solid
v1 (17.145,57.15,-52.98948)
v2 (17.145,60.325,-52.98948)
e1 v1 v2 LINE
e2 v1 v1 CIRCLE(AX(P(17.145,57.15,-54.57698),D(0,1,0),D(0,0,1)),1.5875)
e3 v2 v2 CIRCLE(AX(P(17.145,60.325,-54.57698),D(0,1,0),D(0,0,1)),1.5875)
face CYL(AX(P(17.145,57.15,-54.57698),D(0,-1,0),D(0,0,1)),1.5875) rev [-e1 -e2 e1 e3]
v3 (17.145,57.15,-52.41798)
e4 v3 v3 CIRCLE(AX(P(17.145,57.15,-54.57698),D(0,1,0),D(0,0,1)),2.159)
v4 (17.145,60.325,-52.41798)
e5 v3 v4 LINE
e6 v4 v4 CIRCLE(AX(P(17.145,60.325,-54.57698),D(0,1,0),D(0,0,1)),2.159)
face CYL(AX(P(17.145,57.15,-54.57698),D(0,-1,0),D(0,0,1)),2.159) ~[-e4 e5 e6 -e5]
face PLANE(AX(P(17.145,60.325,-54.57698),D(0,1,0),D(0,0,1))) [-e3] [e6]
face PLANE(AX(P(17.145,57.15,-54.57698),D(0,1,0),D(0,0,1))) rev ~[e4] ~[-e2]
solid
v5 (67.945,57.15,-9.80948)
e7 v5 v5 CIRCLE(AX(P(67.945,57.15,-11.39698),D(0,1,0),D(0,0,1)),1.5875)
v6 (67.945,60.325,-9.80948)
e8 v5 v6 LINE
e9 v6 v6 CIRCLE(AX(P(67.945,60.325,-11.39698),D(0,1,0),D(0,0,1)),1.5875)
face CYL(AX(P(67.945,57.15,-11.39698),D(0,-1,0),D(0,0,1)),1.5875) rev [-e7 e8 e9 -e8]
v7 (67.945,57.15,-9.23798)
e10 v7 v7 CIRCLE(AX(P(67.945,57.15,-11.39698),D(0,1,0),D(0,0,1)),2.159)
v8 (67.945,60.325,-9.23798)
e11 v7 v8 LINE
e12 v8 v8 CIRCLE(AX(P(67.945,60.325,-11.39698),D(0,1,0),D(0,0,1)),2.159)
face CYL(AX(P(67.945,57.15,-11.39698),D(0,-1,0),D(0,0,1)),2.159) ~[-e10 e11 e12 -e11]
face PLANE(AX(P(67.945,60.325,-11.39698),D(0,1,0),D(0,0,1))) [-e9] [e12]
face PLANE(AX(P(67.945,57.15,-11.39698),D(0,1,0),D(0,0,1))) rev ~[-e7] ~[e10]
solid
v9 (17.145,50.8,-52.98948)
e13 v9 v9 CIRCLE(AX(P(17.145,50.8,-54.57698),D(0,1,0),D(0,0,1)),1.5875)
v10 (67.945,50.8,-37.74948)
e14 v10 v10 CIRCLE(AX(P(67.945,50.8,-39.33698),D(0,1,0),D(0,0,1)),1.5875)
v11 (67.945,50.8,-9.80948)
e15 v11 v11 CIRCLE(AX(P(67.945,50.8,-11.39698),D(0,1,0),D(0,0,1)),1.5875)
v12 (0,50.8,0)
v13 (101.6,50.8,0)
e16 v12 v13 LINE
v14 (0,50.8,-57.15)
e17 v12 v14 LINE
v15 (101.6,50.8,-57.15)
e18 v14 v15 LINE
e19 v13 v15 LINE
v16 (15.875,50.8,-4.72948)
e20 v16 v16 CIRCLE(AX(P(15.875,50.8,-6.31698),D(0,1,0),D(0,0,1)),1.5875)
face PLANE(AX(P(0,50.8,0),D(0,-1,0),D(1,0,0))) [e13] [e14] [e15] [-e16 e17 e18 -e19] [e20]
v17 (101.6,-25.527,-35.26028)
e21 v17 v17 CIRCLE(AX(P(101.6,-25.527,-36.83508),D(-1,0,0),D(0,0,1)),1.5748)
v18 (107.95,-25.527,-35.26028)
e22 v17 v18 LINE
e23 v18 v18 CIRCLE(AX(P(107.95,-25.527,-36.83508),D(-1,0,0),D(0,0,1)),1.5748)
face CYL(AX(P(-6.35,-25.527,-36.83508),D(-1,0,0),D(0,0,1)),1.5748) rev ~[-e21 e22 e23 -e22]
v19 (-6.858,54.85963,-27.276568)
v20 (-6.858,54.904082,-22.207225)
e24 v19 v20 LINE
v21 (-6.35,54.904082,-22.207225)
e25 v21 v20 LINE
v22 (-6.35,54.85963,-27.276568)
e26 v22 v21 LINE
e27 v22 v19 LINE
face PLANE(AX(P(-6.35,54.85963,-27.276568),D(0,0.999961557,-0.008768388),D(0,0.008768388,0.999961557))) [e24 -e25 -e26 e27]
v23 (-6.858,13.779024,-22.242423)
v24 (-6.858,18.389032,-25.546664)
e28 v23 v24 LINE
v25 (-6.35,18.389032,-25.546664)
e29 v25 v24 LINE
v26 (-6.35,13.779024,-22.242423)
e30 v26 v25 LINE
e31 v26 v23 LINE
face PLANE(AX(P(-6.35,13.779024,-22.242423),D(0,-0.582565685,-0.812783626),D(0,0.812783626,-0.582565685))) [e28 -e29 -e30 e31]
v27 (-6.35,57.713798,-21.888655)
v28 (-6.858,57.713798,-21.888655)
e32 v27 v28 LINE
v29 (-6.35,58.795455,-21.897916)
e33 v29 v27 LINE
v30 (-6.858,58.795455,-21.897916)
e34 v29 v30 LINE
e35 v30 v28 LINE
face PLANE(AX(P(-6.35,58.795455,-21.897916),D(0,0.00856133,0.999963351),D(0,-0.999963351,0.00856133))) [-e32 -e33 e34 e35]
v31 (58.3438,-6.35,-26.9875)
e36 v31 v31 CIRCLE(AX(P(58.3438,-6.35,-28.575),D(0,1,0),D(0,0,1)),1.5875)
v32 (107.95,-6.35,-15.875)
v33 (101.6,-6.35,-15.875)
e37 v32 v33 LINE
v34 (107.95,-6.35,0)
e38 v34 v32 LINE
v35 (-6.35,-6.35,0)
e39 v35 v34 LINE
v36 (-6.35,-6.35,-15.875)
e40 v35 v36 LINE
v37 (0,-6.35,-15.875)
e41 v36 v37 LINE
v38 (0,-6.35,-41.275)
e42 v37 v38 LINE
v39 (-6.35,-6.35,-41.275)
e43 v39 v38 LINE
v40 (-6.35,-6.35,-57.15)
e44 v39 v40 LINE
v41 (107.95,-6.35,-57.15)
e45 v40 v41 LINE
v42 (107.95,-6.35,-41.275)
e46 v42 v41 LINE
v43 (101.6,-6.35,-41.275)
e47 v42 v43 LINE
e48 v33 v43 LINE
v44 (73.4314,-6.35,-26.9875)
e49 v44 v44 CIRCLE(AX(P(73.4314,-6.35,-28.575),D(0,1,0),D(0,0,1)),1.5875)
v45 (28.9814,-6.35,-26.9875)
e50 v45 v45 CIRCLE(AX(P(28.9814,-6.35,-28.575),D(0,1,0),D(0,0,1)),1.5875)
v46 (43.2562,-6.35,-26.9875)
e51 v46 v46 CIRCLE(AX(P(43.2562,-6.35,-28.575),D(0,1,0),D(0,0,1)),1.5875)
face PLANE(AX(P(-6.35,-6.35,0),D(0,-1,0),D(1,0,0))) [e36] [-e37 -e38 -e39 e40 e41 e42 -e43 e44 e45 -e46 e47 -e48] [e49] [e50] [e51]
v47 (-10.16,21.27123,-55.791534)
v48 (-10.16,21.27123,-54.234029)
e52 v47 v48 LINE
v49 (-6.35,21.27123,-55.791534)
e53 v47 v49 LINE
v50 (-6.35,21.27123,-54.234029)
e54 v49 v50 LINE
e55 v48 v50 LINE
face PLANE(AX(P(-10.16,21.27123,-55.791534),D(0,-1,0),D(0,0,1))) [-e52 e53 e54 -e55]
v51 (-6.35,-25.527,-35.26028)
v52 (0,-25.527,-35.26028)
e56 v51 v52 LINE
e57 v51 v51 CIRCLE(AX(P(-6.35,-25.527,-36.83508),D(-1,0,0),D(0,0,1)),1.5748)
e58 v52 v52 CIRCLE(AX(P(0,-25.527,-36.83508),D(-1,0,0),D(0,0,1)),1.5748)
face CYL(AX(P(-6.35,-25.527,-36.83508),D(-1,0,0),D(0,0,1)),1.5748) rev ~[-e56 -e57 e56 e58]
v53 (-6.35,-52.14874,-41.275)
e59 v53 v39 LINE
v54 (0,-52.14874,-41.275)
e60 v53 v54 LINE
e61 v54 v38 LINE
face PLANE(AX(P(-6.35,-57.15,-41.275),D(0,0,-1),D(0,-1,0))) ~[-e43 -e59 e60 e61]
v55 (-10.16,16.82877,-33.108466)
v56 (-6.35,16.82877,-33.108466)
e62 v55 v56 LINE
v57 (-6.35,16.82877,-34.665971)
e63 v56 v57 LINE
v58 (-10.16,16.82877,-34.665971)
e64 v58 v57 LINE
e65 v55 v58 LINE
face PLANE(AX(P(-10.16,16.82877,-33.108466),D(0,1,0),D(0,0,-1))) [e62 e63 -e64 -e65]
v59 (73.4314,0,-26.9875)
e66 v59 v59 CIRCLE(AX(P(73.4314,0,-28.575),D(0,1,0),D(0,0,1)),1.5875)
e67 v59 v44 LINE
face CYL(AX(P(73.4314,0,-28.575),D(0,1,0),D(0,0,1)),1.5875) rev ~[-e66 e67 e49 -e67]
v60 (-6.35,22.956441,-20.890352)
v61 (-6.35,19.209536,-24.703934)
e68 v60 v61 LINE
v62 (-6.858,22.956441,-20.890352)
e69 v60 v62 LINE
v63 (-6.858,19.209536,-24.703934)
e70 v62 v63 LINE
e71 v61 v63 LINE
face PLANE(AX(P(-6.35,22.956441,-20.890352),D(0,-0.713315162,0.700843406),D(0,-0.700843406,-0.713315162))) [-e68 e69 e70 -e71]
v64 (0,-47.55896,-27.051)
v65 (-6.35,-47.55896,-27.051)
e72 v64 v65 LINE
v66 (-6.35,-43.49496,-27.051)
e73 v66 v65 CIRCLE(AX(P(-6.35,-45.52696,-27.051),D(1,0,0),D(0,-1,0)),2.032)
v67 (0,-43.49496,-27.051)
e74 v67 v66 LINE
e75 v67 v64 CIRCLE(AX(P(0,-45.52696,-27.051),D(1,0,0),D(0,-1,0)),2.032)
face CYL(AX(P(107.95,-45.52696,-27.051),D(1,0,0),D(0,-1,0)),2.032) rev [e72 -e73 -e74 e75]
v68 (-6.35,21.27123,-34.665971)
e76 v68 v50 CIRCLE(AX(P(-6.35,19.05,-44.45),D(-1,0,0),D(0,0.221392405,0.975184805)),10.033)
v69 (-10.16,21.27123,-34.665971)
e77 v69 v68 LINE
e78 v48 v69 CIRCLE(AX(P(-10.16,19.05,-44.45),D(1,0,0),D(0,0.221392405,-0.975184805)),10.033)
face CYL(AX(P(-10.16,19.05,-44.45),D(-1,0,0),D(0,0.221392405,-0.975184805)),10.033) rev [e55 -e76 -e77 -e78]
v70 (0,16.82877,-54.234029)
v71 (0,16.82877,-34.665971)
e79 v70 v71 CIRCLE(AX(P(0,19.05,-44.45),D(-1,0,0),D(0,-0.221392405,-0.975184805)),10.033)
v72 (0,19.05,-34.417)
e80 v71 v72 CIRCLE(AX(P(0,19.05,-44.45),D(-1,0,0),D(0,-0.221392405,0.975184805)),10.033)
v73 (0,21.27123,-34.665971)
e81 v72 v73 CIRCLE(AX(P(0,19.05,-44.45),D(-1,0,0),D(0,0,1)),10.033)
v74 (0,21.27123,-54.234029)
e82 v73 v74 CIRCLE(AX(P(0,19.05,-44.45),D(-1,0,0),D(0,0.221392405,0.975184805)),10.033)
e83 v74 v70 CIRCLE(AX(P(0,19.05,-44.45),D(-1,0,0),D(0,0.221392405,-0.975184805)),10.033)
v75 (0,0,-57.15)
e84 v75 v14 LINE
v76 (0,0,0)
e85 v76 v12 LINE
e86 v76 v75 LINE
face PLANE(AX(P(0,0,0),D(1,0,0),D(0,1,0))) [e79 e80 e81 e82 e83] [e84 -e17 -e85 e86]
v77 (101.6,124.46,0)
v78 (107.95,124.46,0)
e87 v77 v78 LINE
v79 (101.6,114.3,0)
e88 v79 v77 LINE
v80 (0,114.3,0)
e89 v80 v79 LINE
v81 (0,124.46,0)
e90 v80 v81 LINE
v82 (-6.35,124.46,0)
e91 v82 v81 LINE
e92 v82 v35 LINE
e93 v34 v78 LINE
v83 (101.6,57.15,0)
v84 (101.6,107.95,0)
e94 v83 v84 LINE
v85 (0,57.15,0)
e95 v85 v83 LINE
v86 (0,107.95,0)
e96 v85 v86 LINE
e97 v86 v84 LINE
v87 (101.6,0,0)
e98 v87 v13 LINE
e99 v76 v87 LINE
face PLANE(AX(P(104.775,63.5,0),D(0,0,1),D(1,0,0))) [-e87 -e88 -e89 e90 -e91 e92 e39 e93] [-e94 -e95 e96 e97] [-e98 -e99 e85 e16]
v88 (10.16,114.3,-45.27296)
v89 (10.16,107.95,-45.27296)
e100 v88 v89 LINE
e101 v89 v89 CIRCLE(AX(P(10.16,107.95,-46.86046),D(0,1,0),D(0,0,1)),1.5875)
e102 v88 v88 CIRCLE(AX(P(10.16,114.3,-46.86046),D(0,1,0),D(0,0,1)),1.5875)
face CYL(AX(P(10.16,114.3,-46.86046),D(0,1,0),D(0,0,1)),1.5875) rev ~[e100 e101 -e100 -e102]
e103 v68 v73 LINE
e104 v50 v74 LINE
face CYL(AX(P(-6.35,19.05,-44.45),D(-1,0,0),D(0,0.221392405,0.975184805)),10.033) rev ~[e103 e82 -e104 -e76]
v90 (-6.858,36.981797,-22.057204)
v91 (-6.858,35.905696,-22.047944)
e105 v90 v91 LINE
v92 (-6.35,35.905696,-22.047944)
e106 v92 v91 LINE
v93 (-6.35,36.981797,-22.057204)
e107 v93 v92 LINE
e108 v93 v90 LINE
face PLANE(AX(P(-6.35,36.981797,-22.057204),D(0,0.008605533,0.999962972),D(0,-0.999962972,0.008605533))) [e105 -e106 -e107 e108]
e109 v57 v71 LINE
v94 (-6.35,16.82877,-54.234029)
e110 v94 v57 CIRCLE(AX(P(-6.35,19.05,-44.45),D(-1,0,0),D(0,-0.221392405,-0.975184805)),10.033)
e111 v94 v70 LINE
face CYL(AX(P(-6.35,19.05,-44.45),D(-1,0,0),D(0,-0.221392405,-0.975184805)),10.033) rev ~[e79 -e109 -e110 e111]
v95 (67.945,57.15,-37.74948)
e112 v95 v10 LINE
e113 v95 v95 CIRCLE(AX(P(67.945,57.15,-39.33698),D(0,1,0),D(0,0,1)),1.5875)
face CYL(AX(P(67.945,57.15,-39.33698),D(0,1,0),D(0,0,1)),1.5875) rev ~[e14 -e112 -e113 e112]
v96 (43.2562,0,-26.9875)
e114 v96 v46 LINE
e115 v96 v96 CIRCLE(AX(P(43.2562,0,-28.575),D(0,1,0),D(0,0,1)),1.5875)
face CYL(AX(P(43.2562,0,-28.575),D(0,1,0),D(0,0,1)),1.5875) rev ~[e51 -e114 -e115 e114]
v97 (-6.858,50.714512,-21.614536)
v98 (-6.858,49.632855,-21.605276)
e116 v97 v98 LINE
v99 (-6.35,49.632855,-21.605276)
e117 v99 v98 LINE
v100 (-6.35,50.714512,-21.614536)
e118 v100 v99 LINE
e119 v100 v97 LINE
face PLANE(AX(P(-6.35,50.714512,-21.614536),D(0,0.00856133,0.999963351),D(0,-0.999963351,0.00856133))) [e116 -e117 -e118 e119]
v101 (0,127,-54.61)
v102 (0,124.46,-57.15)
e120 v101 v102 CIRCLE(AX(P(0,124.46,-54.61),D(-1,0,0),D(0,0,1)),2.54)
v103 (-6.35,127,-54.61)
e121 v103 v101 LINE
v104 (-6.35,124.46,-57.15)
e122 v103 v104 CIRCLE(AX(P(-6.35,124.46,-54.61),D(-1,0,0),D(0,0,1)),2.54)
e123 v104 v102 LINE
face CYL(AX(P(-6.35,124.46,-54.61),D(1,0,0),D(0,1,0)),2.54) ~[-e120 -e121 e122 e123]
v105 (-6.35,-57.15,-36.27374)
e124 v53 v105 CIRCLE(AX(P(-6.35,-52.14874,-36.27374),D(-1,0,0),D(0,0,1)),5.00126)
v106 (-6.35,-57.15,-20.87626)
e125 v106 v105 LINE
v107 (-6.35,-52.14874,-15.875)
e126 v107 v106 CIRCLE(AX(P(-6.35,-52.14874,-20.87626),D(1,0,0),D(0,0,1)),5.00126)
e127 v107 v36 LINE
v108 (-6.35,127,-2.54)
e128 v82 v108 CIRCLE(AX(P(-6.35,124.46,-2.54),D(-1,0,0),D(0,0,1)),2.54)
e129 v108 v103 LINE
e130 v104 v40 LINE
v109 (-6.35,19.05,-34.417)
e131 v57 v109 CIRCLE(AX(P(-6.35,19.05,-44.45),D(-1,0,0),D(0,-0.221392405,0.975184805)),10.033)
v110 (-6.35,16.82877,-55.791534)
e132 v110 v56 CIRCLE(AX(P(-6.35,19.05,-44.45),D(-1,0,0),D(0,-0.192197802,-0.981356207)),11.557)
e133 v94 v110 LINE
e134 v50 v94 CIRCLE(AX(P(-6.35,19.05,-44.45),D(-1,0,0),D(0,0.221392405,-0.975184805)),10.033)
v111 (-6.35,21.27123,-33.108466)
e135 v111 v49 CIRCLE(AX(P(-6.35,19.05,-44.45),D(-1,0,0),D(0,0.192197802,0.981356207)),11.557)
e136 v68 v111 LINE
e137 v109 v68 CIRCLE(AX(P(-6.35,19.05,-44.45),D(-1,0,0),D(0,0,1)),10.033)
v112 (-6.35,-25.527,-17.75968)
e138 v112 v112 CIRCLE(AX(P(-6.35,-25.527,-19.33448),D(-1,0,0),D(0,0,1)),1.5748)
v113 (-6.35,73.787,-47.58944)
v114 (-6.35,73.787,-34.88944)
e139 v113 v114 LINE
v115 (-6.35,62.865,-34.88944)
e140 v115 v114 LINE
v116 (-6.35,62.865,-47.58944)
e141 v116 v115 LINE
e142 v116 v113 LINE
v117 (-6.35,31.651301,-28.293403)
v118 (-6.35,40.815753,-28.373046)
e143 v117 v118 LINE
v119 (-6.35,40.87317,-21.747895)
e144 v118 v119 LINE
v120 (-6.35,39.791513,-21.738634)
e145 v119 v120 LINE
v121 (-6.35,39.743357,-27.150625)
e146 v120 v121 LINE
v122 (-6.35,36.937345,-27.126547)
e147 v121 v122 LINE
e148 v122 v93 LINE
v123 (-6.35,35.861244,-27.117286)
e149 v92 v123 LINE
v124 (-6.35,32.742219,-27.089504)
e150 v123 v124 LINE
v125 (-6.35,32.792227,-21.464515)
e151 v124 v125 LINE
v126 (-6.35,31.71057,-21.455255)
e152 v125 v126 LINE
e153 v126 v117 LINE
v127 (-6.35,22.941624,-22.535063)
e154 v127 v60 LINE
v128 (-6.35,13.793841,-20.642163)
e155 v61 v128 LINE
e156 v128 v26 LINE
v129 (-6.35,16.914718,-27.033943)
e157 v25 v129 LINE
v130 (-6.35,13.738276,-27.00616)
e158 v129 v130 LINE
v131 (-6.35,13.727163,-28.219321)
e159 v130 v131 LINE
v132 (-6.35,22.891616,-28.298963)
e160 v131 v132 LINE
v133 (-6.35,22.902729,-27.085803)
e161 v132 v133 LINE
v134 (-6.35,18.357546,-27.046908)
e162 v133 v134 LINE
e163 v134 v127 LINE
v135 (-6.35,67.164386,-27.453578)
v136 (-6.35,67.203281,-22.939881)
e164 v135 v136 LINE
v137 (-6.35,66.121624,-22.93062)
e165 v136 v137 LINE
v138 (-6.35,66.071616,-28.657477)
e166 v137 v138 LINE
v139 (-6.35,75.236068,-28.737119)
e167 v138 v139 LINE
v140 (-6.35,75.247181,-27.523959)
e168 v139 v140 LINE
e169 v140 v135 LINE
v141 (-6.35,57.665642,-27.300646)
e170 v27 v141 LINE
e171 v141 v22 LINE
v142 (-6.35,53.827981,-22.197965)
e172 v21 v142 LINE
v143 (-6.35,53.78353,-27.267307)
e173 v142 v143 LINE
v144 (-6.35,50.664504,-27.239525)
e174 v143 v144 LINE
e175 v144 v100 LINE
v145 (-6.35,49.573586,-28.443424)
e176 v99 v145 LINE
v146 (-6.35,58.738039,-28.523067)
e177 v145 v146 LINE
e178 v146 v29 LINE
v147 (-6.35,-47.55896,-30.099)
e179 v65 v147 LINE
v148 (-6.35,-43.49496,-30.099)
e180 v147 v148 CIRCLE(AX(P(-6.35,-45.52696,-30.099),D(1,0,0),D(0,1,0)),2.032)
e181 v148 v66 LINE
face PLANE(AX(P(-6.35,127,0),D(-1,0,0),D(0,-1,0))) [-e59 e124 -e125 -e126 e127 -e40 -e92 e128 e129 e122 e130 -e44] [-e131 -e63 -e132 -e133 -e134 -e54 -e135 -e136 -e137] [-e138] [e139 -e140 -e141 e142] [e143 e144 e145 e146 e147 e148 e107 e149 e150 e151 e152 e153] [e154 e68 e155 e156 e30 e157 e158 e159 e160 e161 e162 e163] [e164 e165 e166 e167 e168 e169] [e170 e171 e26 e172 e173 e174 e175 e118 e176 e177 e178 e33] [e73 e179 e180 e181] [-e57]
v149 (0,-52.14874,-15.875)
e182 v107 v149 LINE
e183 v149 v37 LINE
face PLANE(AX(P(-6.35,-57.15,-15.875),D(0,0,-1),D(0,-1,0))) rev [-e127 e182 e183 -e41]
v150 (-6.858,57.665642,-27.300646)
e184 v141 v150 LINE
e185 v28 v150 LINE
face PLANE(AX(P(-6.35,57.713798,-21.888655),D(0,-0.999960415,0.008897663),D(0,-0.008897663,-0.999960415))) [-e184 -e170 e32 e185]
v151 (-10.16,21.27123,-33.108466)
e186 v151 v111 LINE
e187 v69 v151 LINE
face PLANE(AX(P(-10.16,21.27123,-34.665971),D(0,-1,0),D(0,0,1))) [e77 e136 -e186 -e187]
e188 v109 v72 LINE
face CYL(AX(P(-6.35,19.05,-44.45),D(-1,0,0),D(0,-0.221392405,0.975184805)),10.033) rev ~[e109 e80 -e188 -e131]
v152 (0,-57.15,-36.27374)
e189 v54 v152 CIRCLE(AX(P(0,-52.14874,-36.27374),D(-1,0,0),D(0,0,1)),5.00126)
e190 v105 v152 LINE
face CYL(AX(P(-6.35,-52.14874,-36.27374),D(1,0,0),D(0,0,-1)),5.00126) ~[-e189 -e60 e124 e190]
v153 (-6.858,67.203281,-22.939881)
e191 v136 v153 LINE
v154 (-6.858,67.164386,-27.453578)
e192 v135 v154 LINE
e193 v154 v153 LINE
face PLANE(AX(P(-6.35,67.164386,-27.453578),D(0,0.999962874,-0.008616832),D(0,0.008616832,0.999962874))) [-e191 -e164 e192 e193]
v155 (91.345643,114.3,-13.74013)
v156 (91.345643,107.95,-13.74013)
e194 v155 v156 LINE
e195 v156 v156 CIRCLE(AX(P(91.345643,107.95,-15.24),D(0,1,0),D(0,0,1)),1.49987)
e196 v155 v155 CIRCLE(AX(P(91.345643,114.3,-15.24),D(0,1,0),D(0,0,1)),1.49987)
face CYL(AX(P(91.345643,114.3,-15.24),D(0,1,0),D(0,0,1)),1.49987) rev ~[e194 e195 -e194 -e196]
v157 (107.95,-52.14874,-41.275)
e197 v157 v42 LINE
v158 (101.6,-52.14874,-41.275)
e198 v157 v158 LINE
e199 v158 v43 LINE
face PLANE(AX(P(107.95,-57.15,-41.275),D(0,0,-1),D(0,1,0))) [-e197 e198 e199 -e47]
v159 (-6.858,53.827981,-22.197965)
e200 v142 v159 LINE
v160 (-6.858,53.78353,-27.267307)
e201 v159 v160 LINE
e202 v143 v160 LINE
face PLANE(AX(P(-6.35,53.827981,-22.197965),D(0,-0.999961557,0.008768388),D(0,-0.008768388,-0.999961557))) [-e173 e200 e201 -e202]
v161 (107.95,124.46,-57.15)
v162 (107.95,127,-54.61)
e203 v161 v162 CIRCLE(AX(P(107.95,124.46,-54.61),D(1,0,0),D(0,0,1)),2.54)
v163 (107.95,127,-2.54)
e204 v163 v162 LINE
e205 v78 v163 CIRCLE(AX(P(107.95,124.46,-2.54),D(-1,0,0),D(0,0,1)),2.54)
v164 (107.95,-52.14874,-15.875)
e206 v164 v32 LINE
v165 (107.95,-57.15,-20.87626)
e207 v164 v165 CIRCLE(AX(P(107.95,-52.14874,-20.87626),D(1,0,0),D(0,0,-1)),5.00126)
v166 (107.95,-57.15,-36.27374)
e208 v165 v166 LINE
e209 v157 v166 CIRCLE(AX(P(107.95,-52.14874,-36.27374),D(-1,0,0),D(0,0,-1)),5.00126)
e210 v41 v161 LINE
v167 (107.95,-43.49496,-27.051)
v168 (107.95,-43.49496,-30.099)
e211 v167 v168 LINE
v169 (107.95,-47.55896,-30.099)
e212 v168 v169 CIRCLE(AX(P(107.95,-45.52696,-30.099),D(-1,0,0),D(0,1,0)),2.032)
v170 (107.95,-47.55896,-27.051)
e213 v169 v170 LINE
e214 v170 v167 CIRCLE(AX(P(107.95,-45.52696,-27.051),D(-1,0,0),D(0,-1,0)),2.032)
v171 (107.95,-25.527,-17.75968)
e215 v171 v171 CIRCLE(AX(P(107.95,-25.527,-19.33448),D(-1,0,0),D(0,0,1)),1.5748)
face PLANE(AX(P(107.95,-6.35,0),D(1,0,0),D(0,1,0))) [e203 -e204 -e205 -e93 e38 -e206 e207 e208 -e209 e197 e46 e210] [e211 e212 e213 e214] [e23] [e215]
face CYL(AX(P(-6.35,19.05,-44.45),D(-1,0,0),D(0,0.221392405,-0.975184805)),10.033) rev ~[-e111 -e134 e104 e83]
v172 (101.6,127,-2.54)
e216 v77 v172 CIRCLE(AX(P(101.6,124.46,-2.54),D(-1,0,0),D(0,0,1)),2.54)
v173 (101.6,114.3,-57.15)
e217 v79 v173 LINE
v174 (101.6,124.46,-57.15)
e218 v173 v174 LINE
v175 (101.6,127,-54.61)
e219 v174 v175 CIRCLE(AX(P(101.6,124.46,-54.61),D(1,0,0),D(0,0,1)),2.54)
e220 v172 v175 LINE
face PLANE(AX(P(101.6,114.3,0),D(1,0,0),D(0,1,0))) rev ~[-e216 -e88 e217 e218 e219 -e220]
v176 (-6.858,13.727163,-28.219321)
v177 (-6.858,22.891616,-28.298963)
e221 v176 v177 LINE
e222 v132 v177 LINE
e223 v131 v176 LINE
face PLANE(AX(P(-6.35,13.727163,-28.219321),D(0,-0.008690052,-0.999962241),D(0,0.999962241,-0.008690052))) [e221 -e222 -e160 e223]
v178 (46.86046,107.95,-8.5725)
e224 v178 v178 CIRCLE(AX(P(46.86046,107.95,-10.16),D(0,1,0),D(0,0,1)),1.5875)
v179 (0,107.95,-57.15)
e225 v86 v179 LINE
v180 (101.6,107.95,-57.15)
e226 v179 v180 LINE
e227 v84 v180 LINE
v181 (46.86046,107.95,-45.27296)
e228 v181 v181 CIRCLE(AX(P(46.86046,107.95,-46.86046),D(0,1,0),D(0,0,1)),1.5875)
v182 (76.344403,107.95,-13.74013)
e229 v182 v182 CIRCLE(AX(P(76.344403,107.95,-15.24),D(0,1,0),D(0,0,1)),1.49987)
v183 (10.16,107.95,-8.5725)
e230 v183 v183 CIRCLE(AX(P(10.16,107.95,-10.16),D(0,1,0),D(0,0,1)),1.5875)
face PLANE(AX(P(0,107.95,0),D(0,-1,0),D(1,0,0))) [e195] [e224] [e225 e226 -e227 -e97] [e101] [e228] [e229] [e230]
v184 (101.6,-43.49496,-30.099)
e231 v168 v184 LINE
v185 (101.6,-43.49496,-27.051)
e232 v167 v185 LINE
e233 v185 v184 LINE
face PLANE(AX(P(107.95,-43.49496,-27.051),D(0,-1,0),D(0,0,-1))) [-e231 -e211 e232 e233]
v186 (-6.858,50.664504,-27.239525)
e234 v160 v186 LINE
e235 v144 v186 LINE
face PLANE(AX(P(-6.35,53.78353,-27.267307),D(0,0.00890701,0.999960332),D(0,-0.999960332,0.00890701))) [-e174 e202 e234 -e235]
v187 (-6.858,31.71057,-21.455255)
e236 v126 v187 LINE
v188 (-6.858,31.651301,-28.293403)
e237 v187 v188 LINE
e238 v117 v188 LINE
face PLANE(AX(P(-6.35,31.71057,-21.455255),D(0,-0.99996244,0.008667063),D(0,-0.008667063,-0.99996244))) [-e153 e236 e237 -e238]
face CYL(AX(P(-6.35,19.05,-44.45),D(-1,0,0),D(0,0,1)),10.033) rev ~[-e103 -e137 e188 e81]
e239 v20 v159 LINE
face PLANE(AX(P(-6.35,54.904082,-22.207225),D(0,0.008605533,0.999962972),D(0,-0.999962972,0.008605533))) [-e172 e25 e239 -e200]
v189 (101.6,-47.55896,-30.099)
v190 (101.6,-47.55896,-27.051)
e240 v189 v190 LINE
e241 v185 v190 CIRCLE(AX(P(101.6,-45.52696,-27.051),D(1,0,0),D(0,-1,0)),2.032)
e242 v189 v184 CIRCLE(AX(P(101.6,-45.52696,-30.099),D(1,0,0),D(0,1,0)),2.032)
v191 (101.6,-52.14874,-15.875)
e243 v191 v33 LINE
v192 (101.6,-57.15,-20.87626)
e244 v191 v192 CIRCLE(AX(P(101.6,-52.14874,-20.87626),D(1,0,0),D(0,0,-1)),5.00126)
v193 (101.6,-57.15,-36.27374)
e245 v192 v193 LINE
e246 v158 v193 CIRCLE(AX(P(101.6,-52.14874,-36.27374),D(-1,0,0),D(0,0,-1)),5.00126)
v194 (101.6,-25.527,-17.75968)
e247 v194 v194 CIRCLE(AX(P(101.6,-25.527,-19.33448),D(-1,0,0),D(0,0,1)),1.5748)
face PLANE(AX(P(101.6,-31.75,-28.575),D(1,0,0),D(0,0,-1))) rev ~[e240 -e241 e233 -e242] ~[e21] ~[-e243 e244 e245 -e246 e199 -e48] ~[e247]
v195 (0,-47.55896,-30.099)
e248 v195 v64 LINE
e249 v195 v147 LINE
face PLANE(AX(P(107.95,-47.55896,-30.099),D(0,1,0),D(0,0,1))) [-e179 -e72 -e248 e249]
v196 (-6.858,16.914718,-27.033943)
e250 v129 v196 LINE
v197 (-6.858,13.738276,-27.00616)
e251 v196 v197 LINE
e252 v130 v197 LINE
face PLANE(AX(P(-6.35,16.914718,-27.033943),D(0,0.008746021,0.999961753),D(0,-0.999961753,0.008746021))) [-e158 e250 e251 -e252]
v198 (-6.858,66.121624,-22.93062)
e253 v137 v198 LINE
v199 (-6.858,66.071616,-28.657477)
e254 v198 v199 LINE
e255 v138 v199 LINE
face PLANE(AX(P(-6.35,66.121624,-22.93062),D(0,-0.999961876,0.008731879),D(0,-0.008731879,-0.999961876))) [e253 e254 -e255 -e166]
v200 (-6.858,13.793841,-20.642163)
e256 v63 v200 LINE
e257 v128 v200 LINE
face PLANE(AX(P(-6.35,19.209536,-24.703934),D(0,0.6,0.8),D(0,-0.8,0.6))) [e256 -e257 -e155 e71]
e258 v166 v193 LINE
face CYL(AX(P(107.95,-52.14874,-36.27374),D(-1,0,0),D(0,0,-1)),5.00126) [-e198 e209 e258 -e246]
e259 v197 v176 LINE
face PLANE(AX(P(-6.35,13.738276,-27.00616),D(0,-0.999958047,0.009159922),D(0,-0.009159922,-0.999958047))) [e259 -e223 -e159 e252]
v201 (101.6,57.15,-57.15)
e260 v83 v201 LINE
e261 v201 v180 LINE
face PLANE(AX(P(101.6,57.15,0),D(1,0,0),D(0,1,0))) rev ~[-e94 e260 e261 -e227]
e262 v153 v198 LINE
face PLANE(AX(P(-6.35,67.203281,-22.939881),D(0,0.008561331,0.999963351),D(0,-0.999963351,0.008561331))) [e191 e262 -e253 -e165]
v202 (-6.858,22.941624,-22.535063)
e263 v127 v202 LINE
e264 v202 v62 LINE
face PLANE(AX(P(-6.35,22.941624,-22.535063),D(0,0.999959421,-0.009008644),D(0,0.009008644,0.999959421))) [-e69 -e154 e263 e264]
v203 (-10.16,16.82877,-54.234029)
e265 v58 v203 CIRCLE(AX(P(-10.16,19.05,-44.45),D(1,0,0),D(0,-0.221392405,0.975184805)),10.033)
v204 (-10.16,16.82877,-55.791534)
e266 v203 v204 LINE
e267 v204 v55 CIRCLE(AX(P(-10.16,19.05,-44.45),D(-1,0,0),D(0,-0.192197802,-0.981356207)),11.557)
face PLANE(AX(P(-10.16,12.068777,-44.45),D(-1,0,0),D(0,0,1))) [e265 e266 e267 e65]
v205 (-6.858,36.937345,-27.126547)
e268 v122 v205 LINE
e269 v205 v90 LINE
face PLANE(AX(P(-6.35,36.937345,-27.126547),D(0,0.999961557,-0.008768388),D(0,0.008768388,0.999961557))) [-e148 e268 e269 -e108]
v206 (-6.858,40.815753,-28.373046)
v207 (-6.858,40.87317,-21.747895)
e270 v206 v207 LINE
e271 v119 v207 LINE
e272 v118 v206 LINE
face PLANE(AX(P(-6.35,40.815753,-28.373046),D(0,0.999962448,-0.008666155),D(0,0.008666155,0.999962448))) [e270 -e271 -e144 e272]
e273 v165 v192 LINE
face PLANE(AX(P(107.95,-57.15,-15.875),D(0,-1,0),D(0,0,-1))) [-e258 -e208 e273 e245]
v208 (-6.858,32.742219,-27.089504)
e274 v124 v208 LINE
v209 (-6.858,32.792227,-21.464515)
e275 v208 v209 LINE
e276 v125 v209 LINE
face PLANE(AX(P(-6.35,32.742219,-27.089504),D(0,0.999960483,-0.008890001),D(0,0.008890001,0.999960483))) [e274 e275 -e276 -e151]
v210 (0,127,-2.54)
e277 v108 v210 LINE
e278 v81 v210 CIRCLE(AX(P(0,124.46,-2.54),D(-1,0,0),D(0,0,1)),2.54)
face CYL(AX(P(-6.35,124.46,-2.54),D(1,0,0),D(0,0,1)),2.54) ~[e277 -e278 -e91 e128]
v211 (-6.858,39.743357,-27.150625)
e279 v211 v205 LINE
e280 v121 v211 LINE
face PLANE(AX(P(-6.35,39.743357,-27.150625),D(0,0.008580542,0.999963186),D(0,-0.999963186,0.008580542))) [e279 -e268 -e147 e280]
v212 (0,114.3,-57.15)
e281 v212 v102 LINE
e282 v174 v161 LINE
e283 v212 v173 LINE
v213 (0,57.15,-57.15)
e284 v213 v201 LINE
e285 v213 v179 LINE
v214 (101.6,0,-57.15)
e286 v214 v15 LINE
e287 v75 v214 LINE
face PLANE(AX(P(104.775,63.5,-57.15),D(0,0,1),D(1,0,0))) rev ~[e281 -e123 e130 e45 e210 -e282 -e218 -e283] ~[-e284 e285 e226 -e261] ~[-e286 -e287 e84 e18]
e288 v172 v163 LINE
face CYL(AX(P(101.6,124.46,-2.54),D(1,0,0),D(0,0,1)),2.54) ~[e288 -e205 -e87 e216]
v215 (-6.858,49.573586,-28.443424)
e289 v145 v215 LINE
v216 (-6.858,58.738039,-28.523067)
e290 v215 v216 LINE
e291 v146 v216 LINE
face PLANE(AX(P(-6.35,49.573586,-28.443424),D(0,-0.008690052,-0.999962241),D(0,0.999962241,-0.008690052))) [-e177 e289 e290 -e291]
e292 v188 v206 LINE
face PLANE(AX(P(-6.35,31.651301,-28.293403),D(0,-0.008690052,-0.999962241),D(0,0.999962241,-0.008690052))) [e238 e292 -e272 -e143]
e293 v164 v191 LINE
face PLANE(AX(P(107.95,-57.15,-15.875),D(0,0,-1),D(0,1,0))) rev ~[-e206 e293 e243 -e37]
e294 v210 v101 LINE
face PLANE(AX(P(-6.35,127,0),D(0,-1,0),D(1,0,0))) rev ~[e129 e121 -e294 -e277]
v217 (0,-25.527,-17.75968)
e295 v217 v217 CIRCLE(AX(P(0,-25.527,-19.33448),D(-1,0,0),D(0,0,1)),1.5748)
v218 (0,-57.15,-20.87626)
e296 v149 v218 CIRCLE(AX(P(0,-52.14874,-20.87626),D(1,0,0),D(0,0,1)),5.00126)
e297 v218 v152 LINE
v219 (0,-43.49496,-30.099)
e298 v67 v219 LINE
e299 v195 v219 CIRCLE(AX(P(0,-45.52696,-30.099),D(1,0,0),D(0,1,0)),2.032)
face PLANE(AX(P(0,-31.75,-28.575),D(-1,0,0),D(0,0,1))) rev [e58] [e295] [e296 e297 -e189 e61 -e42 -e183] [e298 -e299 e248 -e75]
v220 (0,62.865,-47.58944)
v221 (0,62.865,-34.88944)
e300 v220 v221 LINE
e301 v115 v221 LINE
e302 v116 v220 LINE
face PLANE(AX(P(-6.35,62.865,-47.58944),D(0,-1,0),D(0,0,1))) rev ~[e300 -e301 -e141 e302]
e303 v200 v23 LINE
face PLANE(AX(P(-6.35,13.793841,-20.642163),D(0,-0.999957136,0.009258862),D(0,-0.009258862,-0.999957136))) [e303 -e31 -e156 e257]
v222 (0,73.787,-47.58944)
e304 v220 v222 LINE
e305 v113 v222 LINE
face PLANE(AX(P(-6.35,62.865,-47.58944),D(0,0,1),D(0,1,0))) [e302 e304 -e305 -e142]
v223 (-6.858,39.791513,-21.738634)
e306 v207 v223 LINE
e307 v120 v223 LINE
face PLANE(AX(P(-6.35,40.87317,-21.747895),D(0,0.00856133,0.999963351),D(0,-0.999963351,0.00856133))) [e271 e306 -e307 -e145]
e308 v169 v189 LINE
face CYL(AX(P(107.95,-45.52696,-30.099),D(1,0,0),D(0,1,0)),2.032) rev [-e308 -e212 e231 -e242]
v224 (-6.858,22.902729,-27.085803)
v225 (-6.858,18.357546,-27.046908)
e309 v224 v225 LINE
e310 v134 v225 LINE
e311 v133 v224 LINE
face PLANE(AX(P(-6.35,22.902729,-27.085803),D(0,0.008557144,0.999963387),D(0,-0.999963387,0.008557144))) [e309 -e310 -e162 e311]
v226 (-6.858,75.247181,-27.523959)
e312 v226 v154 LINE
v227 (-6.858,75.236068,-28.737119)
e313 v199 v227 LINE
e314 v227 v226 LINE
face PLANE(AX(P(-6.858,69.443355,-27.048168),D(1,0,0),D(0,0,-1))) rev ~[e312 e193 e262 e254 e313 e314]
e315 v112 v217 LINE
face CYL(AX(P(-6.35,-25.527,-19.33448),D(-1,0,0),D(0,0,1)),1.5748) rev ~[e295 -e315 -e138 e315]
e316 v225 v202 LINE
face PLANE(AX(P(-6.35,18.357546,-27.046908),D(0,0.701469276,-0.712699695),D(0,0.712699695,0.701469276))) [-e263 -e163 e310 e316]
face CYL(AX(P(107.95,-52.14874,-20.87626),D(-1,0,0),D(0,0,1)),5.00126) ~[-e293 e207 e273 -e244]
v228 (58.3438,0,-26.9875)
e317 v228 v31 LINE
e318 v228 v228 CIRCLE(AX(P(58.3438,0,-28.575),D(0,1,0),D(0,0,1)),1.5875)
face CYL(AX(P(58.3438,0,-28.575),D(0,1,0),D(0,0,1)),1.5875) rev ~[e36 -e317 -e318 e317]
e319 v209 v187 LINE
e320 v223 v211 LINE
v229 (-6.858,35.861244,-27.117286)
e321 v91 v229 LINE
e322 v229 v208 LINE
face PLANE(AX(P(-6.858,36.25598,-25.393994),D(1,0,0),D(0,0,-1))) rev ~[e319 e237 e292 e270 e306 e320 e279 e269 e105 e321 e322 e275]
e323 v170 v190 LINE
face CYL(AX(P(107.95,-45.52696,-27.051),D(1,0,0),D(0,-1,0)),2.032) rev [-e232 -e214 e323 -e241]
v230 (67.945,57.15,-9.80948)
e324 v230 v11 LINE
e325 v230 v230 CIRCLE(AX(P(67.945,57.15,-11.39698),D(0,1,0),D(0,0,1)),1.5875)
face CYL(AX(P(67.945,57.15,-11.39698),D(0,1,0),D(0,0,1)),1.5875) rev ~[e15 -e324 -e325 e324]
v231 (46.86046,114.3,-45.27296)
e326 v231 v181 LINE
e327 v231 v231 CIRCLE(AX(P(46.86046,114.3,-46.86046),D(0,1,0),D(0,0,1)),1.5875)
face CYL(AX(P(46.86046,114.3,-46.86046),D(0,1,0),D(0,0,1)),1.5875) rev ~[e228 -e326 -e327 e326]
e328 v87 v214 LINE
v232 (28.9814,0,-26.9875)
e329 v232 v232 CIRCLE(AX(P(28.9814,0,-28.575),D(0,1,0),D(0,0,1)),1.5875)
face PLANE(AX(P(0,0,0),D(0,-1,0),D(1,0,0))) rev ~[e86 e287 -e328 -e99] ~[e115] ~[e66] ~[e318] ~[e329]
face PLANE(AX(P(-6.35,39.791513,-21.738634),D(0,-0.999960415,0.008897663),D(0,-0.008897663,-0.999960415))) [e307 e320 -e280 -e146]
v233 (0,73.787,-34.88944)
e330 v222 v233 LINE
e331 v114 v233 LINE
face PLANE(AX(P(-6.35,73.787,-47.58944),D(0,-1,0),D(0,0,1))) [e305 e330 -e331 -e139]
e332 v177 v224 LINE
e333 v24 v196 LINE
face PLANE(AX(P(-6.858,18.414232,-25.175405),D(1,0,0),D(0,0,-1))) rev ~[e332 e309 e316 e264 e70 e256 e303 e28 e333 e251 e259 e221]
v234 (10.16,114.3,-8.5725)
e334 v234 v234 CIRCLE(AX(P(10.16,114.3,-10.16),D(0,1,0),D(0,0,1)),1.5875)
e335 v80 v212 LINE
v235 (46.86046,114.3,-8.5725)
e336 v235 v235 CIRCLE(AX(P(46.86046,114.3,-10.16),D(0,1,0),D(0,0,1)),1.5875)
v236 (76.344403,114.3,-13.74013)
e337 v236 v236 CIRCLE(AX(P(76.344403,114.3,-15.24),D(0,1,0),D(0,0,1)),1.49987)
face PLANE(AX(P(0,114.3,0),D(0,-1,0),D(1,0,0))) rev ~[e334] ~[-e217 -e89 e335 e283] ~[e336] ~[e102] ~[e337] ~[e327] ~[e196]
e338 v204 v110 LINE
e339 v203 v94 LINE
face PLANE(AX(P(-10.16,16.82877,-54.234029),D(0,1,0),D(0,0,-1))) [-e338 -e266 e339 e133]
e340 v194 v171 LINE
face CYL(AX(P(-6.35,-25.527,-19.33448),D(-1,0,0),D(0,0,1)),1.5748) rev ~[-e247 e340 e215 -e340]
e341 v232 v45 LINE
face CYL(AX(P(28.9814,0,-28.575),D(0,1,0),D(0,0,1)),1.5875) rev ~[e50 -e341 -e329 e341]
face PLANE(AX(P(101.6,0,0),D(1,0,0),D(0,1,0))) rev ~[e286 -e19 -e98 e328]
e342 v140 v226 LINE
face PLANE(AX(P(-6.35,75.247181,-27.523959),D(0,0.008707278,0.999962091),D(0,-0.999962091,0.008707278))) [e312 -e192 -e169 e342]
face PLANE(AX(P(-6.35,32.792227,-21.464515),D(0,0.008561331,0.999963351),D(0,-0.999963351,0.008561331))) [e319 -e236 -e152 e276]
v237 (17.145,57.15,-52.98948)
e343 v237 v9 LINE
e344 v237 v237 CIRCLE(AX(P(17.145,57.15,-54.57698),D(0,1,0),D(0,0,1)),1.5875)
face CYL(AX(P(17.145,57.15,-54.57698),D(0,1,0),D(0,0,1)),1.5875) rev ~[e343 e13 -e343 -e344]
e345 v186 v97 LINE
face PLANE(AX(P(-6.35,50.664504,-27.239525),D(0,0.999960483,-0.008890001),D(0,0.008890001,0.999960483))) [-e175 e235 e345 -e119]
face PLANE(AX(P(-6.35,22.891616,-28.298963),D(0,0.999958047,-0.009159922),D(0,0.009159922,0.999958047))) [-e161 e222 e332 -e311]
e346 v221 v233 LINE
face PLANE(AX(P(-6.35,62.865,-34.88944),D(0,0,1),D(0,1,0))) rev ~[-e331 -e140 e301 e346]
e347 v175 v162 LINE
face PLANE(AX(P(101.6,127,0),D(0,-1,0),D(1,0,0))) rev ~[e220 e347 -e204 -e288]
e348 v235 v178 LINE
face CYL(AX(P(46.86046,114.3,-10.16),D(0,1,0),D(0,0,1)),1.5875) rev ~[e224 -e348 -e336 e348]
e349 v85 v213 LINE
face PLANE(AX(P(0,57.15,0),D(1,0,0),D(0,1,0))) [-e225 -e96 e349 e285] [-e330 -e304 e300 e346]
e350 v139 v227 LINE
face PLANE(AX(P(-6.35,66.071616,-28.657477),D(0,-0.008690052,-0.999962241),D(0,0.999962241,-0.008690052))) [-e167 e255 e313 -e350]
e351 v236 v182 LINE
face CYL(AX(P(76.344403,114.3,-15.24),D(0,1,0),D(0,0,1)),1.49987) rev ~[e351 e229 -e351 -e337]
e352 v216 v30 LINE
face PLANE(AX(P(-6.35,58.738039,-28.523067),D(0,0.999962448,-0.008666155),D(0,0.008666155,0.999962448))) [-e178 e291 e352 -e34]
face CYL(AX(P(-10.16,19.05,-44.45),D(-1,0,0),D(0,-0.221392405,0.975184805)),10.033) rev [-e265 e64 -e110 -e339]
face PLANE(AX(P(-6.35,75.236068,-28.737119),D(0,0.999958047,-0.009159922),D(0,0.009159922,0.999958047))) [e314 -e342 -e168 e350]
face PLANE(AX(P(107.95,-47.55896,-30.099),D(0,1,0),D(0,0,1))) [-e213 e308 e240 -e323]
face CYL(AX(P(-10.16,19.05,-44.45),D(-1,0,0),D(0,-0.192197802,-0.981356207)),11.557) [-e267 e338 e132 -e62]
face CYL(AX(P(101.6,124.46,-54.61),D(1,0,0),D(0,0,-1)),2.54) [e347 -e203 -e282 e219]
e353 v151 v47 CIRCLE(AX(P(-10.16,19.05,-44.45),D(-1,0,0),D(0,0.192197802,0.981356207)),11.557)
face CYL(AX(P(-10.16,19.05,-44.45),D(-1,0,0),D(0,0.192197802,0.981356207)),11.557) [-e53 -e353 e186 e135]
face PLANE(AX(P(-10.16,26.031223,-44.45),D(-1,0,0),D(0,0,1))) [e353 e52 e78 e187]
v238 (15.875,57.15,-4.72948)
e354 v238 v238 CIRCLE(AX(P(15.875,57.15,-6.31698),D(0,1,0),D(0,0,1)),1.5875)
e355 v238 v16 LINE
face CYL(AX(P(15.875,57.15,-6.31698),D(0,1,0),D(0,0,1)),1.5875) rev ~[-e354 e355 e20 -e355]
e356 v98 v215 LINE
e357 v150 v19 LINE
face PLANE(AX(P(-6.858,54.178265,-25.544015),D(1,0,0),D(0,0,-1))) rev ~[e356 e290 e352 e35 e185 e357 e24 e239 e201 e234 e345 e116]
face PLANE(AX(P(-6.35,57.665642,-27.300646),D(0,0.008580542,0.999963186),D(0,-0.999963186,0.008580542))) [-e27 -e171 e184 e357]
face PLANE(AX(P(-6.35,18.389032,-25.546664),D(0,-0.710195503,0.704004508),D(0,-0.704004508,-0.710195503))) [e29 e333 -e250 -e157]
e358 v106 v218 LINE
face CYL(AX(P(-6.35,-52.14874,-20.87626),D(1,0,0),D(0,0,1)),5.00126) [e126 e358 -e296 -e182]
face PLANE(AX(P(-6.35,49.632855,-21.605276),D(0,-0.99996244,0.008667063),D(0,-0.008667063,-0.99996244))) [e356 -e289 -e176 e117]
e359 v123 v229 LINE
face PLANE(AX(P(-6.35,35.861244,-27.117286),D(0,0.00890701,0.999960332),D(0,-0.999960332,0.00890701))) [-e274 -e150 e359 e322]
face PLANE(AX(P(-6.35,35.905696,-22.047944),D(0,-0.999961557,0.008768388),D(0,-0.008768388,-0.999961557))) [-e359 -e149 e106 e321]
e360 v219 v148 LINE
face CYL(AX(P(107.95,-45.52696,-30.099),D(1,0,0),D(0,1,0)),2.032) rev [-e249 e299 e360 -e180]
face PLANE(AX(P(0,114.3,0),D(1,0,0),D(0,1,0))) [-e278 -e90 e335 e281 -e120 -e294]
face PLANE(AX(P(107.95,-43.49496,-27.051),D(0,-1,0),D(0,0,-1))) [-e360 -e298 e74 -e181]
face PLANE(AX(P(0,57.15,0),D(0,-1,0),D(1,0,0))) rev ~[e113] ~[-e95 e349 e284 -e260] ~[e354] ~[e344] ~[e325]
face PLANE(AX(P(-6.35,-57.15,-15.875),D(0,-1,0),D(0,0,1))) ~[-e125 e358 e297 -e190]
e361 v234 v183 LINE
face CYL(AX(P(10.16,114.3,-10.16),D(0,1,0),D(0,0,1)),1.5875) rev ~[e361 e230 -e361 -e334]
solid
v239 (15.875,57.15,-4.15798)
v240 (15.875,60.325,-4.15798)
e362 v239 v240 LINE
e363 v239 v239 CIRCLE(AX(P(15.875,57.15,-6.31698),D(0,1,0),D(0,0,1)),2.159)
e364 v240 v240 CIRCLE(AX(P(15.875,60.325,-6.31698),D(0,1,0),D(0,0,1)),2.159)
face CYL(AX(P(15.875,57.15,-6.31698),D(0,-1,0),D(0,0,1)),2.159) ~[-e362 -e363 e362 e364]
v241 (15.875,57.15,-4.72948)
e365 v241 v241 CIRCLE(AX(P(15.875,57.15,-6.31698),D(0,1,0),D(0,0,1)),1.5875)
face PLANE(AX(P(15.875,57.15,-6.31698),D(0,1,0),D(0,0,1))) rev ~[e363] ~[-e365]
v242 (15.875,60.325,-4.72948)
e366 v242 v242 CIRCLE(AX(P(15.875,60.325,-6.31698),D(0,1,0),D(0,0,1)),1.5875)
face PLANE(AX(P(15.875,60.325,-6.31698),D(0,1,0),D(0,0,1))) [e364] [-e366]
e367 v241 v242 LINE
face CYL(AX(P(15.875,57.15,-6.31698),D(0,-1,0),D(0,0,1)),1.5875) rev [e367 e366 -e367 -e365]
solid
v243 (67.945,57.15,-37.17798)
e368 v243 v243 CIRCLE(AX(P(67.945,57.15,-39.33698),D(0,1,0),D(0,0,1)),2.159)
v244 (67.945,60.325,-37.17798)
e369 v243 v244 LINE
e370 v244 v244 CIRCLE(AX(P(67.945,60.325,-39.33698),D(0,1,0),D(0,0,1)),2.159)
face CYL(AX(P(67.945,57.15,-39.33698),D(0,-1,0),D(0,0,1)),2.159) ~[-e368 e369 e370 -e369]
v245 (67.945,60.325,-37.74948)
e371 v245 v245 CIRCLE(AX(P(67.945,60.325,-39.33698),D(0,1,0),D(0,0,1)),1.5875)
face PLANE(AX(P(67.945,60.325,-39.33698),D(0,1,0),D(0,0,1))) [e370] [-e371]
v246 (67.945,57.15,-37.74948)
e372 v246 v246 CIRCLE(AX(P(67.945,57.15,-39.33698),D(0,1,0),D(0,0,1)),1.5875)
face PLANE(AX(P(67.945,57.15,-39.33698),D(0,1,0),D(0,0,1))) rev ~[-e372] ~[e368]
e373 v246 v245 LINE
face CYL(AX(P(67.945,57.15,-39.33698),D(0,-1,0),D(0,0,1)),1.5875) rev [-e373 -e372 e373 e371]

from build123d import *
from build123d.topology import SkipClean

# Parameters (mm, degrees)
SKETCH1_W             = 6.35
SKETCH1_H             = 127
SKETCH1_W_2           = 101.6
SKETCH1_H_2           = 6.35
BOSS_EXTRUDE1_DEPTH   = 57.15
SKETCH2_W             = 25.4
SKETCH2_H             = 50.8
BOSS_EXTRUDE2_DEPTH   = 6.35
BOSS_EXTRUDE3_DEPTH   = 0.508
CUT_EXTRUDE1_DEPTH    = 181.488225001
FILLET1_R             = 5.00126
SKETCH7_R             = 1.5748
CUT_EXTRUDE2_DEPTH    = 181.165514181
CUT_EXTRUDE3_DEPTH    = 6.35
BOSS_EXTRUDE6_START   = 3.81
BOSS_EXTRUDE6_DEPTH   = 3.81
SKETCH10_R            = 1.5875
CUT_EXTRUDE5_DEPTH    = 6.35
SKETCH11_R            = 1.5875
CUT_EXTRUDE6_DEPTH    = 6.35
SKETCH12_R            = 1.49987
CUT_EXTRUDE7_DEPTH    = 6.35
SKETCH13_R            = 1.5875
CUT_EXTRUDE8_DEPTH    = 6.35
SKETCH9_W             = 12.7
SKETCH9_H             = 10.922
CUT_EXTRUDE4_DEPTH    = 6.35
SKETCH10_5_R          = 2.159
SKETCH10_5_R_2        = 1.5875
BOSS_EXTRUDE9_DEPTH   = 3.175
BOSS_EXTRUDE9_2_DEPTH = 3.175
BOSS_EXTRUDE9_3_DEPTH = 3.175
BOSS_EXTRUDE9_4_DEPTH = 3.175
FILLET2_R             = 2.54


with BuildPart() as part:
    # Sketch1 → Boss-Extrude1 (new body)
    with BuildSketch(Plane.XY):
        with Locations((104.775, 63.5)):
            Rectangle(SKETCH1_W, SKETCH1_H)
        with Locations((-3.175, 63.5)):
            Rectangle(SKETCH1_W, SKETCH1_H)
        with Locations((50.8, 111.125)):
            Rectangle(SKETCH1_W_2, SKETCH1_H_2)
        with Locations((50.8, 53.975)):
            Rectangle(SKETCH1_W_2, SKETCH1_H_2)
        Polygon((107.95, -6.35), (101.6, -6.35), (0, -6.35), (-6.35, -6.35), (-6.35, 0), (0, 0), (101.6, 0), (107.95, 0), align=None)
    extrude(amount=-BOSS_EXTRUDE1_DEPTH)

    # Sketch2 → Boss-Extrude2 (add)
    with BuildSketch(Plane(origin=(107.95, 0, 0), x_dir=(0, 0, -1), z_dir=(1, 0, 0))):
        with Locations((28.575, -31.75)):
            Rectangle(SKETCH2_W, SKETCH2_H)
    boss_extrude2 = extrude(amount=-BOSS_EXTRUDE2_DEPTH)

    # Mirror1: Boss-Extrude2 across plane
    add(boss_extrude2.mirror(Plane(origin=(50.8, 0, 0), x_dir=(0, 0, 1), z_dir=(1, 0, 0))))

    # Sketch4 → Boss-Extrude3 (add)
    with BuildSketch(Plane.ZY.offset(6.35)):
        Polygon((-28.657476896, 66.071615527), (-28.737119471, 75.236068065), (-27.523959323, 75.247180983), (-27.453577513, 67.164385737), (-22.939880901, 67.203280948), (-22.930620136, 66.121623655), align=None)
        Polygon((-28.44342412, 49.573585988), (-28.523066695, 58.738038526), (-21.897915779, 58.795455265), (-21.888655015, 57.713797973), (-27.300645782, 57.665641998), (-27.276567795, 54.859630358), (-22.207225313, 54.904082027), (-22.197964549, 53.827981194), (-27.26730703, 53.783529524), (-27.239524737, 50.664504044), (-21.614536386, 50.714512173), (-21.605275622, 49.63285488), align=None)
        Polygon((-28.29340319, 31.651300701), (-28.373045764, 40.815753239), (-21.747894849, 40.873169979), (-21.738634085, 39.791512686), (-27.150624852, 39.743356711), (-27.126546864, 36.937345071), (-22.057204383, 36.981796741), (-22.047943619, 35.905695907), (-27.1172861, 35.861244237), (-27.089503806, 32.742218758), (-21.464515456, 32.792226886), (-21.455254691, 31.710569593), align=None)
        Polygon((-28.219320528, 13.727163261), (-28.298963103, 22.891615799), (-27.085802955, 22.902728717), (-27.046907744, 18.357545506), (-22.535063285, 22.941623927), (-20.890351512, 22.956441151), (-24.703934328, 19.209535839), (-20.642163024, 13.793840765), (-22.242423127, 13.779023542), (-25.546663897, 18.389032105), (-27.033942674, 16.914718398), (-27.00616038, 13.738276179), align=None)
    extrude(amount=BOSS_EXTRUDE3_DEPTH)

    # Sketch5 → Cut-Extrude1 (cut, through all)
    with BuildSketch(Plane(origin=(107.95, 0, 0), x_dir=(0, 0, -1), z_dir=(1, 0, 0))):
        with BuildLine():
            Line((27.051, -43.49496), (30.099, -43.49496))
            ThreePointArc((30.099, -43.49496), (32.131, -45.52696), (30.099, -47.55896))
            Line((30.099, -47.55896), (27.051, -47.55896))
            ThreePointArc((27.051, -47.55896), (25.019, -45.52696), (27.051, -43.49496))
        make_face()
    extrude(amount=-CUT_EXTRUDE1_DEPTH, mode=Mode.SUBTRACT)

    # Fillet1
    fillet1_edges = [part.edges().sort_by_distance(p)[0] for p in [
        (104.775, -57.15, -41.275),
        (104.775, -57.15, -15.875),
        (-3.175, -57.15, -15.875),
        (-3.175, -57.15, -41.275),
    ]]
    fillet(fillet1_edges, radius=FILLET1_R)

    # Sketch7 → Cut-Extrude2 (cut, through all)
    with BuildSketch(Plane.ZY.offset(6.35)):
        with Locations((-36.83508, -25.527)):
            Circle(SKETCH7_R)
        with Locations((-19.33448, -25.527)):
            Circle(SKETCH7_R)
    extrude(amount=-CUT_EXTRUDE2_DEPTH, mode=Mode.SUBTRACT)

    # Sketch8 → Cut-Extrude3 (cut)
    with BuildSketch(Plane.ZY.offset(6.35)):
        with BuildLine():
            ThreePointArc((-34.665970856, 21.27123), (-44.45, 29.083), (-54.234029144, 21.27123))
            Line((-54.234029144, 21.27123), (-34.665970856, 21.27123))
        make_face()
        with BuildLine():
            Line((-34.665970856, 21.27123), (-54.234029144, 21.27123))
            ThreePointArc((-54.234029144, 21.27123), (-54.483, 19.05), (-54.234029144, 16.82877))
            Line((-54.234029144, 16.82877), (-34.665970856, 16.82877))
            ThreePointArc((-34.665970856, 16.82877), (-34.479436992, 17.932430181), (-34.417, 19.05))
            ThreePointArc((-34.417, 19.05), (-34.479436992, 20.167569819), (-34.665970856, 21.27123))
        make_face()
        with BuildLine():
            Line((-34.665970856, 16.82877), (-54.234029144, 16.82877))
            ThreePointArc((-54.234029144, 16.82877), (-44.45, 9.017), (-34.665970856, 16.82877))
        make_face()
    extrude(amount=-CUT_EXTRUDE3_DEPTH, mode=Mode.SUBTRACT)

    # Sketch8<3> → Boss-Extrude6 (add)
    with SkipClean():  # the faces are left unmerged after this step: merging them gives an invalid solid
        with BuildSketch(Plane.ZY.offset(6.35).offset(BOSS_EXTRUDE6_START)):
            with BuildLine():
                ThreePointArc((-33.108466317, 21.27123), (-44.45, 30.607), (-55.791533683, 21.27123))
                Line((-55.791533683, 21.27123), (-54.234029144, 21.27123))
                ThreePointArc((-54.234029144, 21.27123), (-44.45, 29.083), (-34.665970856, 21.27123))
                Line((-34.665970856, 21.27123), (-33.108466317, 21.27123))
            make_face()
            with BuildLine():
                Line((-54.234029144, 16.82877), (-55.791533683, 16.82877))
                ThreePointArc((-55.791533683, 16.82877), (-44.45, 7.493), (-33.108466317, 16.82877))
                Line((-33.108466317, 16.82877), (-34.665970856, 16.82877))
                ThreePointArc((-34.665970856, 16.82877), (-44.45, 9.017), (-54.234029144, 16.82877))
            make_face()
        extrude(amount=-BOSS_EXTRUDE6_DEPTH)

    # Sketch10 → Cut-Extrude5 (cut)
    with SkipClean():  # the faces are left unmerged after this step: merging them gives an invalid solid
        with BuildSketch(Plane(origin=(0, 57.15, 0), x_dir=(1, 0, 0), z_dir=(0, 1, 0))):
            with Locations(Location((15.875, 6.31698, 0), (0, 0, 270))):
                Circle(SKETCH10_R)
            with Locations(Location((67.945, 11.39698, 0), (0, 0, 270))):
                Circle(SKETCH10_R)
            with Locations(Location((67.945, 39.33698, 0), (0, 0, 270))):
                Circle(SKETCH10_R)
            with Locations(Location((17.145, 54.57698, 0), (0, 0, 270))):
                Circle(SKETCH10_R)
        extrude(amount=-CUT_EXTRUDE5_DEPTH, mode=Mode.SUBTRACT)

    # Sketch11 → Cut-Extrude6 (cut)
    with SkipClean():  # the faces are left unmerged after this step: merging them gives an invalid solid
        with BuildSketch(Plane(origin=(0, 114.3, 0), x_dir=(1, 0, 0), z_dir=(0, 1, 0))):
            with Locations(Location((10.16, 10.16, 0), (0, 0, 270))):
                Circle(SKETCH11_R)
            with Locations(Location((46.86046, 10.16, 0), (0, 0, 270))):
                Circle(SKETCH11_R)
            with Locations(Location((46.86046, 46.86046, 0), (0, 0, 270))):
                Circle(SKETCH11_R)
            with Locations(Location((10.16, 46.86046, 0), (0, 0, 270))):
                Circle(SKETCH11_R)
        extrude(amount=-CUT_EXTRUDE6_DEPTH, mode=Mode.SUBTRACT)

    # Sketch12 → Cut-Extrude7 (cut)
    with SkipClean():  # the faces are left unmerged after this step: merging them gives an invalid solid
        with BuildSketch(Plane(origin=(0, 114.3, 0), x_dir=(1, 0, 0), z_dir=(0, 1, 0))):
            with Locations(Location((91.345643218, 15.24, 0), (0, 0, 270))):
                Circle(SKETCH12_R)
            with Locations(Location((76.344403218, 15.24, 0), (0, 0, 270))):
                Circle(SKETCH12_R)
        extrude(amount=-CUT_EXTRUDE7_DEPTH, mode=Mode.SUBTRACT)

    # Sketch13 → Cut-Extrude8 (cut)
    with SkipClean():  # the faces are left unmerged after this step: merging them gives an invalid solid
        with BuildSketch(Plane(origin=(0, 0, 0), x_dir=(1, 0, 0), z_dir=(0, 1, 0))):
            with Locations(Location((58.3438, 28.575, 0), (0, 0, 270))):
                Circle(SKETCH13_R)
            with Locations(Location((43.2562, 28.575, 0), (0, 0, 270))):
                Circle(SKETCH13_R)
            with Locations(Location((73.4314, 28.575, 0), (0, 0, 270))):
                Circle(SKETCH13_R)
            with Locations(Location((28.9814, 28.575, 0), (0, 0, 270))):
                Circle(SKETCH13_R)
        extrude(amount=-CUT_EXTRUDE8_DEPTH, mode=Mode.SUBTRACT)

    # Sketch9 → Cut-Extrude4 (cut)
    with SkipClean():  # the faces are left unmerged after this step: merging them gives an invalid solid
        with BuildSketch(Plane.ZY.offset(6.35)):
            with Locations((-41.23944, 68.326)):
                Rectangle(SKETCH9_W, SKETCH9_H)
        extrude(amount=-CUT_EXTRUDE4_DEPTH, mode=Mode.SUBTRACT)

    # Fillet2
    fillet2_edges = [part.edges().sort_by_distance(p)[0] for p in [
        (104.775, 127, 0),
        (-3.175, 127, 0),
        (104.775, 127, -57.15),
        (-3.175, 127, -57.15),
    ]]
    fillet(fillet2_edges, radius=FILLET2_R)


with BuildPart() as body_2:
    # Sketch10<5> → Boss-Extrude9 (new body)
    with BuildSketch(Plane(origin=(0, 57.15, 0), x_dir=(1, 0, 0), z_dir=(0, 1, 0))):
        with Locations(Location((15.875, 6.31698, 0), (0, 0, 270))):
            Circle(SKETCH10_5_R)
        with Locations(Location((15.875, 6.31698, 0), (0, 0, 270))):
            Circle(SKETCH10_5_R_2, mode=Mode.SUBTRACT)
    extrude(amount=BOSS_EXTRUDE9_DEPTH)


with BuildPart() as body_3:
    # Sketch10<5> → Boss-Extrude9 2 (new body)
    with BuildSketch(Plane(origin=(0, 57.15, 0), x_dir=(1, 0, 0), z_dir=(0, 1, 0))):
        with Locations(Location((67.945, 11.39698, 0), (0, 0, 270))):
            Circle(SKETCH10_5_R)
        with Locations(Location((67.945, 11.39698, 0), (0, 0, 270))):
            Circle(SKETCH10_5_R_2, mode=Mode.SUBTRACT)
    extrude(amount=BOSS_EXTRUDE9_2_DEPTH)


with BuildPart() as body_4:
    # Sketch10<5> → Boss-Extrude9 3 (new body)
    with BuildSketch(Plane(origin=(0, 57.15, 0), x_dir=(1, 0, 0), z_dir=(0, 1, 0))):
        with Locations(Location((67.945, 39.33698, 0), (0, 0, 270))):
            Circle(SKETCH10_5_R)
        with Locations(Location((67.945, 39.33698, 0), (0, 0, 270))):
            Circle(SKETCH10_5_R_2, mode=Mode.SUBTRACT)
    extrude(amount=BOSS_EXTRUDE9_3_DEPTH)


with BuildPart() as body_5:
    # Sketch10<5> → Boss-Extrude9 4 (new body)
    with BuildSketch(Plane(origin=(0, 57.15, 0), x_dir=(1, 0, 0), z_dir=(0, 1, 0))):
        with Locations(Location((17.145, 54.57698, 0), (0, 0, 270))):
            Circle(SKETCH10_5_R)
        with Locations(Location((17.145, 54.57698, 0), (0, 0, 270))):
            Circle(SKETCH10_5_R_2, mode=Mode.SUBTRACT)
    extrude(amount=BOSS_EXTRUDE9_4_DEPTH)


solid = Compound([part.part, body_2.part, body_3.part, body_4.part, body_5.part])
